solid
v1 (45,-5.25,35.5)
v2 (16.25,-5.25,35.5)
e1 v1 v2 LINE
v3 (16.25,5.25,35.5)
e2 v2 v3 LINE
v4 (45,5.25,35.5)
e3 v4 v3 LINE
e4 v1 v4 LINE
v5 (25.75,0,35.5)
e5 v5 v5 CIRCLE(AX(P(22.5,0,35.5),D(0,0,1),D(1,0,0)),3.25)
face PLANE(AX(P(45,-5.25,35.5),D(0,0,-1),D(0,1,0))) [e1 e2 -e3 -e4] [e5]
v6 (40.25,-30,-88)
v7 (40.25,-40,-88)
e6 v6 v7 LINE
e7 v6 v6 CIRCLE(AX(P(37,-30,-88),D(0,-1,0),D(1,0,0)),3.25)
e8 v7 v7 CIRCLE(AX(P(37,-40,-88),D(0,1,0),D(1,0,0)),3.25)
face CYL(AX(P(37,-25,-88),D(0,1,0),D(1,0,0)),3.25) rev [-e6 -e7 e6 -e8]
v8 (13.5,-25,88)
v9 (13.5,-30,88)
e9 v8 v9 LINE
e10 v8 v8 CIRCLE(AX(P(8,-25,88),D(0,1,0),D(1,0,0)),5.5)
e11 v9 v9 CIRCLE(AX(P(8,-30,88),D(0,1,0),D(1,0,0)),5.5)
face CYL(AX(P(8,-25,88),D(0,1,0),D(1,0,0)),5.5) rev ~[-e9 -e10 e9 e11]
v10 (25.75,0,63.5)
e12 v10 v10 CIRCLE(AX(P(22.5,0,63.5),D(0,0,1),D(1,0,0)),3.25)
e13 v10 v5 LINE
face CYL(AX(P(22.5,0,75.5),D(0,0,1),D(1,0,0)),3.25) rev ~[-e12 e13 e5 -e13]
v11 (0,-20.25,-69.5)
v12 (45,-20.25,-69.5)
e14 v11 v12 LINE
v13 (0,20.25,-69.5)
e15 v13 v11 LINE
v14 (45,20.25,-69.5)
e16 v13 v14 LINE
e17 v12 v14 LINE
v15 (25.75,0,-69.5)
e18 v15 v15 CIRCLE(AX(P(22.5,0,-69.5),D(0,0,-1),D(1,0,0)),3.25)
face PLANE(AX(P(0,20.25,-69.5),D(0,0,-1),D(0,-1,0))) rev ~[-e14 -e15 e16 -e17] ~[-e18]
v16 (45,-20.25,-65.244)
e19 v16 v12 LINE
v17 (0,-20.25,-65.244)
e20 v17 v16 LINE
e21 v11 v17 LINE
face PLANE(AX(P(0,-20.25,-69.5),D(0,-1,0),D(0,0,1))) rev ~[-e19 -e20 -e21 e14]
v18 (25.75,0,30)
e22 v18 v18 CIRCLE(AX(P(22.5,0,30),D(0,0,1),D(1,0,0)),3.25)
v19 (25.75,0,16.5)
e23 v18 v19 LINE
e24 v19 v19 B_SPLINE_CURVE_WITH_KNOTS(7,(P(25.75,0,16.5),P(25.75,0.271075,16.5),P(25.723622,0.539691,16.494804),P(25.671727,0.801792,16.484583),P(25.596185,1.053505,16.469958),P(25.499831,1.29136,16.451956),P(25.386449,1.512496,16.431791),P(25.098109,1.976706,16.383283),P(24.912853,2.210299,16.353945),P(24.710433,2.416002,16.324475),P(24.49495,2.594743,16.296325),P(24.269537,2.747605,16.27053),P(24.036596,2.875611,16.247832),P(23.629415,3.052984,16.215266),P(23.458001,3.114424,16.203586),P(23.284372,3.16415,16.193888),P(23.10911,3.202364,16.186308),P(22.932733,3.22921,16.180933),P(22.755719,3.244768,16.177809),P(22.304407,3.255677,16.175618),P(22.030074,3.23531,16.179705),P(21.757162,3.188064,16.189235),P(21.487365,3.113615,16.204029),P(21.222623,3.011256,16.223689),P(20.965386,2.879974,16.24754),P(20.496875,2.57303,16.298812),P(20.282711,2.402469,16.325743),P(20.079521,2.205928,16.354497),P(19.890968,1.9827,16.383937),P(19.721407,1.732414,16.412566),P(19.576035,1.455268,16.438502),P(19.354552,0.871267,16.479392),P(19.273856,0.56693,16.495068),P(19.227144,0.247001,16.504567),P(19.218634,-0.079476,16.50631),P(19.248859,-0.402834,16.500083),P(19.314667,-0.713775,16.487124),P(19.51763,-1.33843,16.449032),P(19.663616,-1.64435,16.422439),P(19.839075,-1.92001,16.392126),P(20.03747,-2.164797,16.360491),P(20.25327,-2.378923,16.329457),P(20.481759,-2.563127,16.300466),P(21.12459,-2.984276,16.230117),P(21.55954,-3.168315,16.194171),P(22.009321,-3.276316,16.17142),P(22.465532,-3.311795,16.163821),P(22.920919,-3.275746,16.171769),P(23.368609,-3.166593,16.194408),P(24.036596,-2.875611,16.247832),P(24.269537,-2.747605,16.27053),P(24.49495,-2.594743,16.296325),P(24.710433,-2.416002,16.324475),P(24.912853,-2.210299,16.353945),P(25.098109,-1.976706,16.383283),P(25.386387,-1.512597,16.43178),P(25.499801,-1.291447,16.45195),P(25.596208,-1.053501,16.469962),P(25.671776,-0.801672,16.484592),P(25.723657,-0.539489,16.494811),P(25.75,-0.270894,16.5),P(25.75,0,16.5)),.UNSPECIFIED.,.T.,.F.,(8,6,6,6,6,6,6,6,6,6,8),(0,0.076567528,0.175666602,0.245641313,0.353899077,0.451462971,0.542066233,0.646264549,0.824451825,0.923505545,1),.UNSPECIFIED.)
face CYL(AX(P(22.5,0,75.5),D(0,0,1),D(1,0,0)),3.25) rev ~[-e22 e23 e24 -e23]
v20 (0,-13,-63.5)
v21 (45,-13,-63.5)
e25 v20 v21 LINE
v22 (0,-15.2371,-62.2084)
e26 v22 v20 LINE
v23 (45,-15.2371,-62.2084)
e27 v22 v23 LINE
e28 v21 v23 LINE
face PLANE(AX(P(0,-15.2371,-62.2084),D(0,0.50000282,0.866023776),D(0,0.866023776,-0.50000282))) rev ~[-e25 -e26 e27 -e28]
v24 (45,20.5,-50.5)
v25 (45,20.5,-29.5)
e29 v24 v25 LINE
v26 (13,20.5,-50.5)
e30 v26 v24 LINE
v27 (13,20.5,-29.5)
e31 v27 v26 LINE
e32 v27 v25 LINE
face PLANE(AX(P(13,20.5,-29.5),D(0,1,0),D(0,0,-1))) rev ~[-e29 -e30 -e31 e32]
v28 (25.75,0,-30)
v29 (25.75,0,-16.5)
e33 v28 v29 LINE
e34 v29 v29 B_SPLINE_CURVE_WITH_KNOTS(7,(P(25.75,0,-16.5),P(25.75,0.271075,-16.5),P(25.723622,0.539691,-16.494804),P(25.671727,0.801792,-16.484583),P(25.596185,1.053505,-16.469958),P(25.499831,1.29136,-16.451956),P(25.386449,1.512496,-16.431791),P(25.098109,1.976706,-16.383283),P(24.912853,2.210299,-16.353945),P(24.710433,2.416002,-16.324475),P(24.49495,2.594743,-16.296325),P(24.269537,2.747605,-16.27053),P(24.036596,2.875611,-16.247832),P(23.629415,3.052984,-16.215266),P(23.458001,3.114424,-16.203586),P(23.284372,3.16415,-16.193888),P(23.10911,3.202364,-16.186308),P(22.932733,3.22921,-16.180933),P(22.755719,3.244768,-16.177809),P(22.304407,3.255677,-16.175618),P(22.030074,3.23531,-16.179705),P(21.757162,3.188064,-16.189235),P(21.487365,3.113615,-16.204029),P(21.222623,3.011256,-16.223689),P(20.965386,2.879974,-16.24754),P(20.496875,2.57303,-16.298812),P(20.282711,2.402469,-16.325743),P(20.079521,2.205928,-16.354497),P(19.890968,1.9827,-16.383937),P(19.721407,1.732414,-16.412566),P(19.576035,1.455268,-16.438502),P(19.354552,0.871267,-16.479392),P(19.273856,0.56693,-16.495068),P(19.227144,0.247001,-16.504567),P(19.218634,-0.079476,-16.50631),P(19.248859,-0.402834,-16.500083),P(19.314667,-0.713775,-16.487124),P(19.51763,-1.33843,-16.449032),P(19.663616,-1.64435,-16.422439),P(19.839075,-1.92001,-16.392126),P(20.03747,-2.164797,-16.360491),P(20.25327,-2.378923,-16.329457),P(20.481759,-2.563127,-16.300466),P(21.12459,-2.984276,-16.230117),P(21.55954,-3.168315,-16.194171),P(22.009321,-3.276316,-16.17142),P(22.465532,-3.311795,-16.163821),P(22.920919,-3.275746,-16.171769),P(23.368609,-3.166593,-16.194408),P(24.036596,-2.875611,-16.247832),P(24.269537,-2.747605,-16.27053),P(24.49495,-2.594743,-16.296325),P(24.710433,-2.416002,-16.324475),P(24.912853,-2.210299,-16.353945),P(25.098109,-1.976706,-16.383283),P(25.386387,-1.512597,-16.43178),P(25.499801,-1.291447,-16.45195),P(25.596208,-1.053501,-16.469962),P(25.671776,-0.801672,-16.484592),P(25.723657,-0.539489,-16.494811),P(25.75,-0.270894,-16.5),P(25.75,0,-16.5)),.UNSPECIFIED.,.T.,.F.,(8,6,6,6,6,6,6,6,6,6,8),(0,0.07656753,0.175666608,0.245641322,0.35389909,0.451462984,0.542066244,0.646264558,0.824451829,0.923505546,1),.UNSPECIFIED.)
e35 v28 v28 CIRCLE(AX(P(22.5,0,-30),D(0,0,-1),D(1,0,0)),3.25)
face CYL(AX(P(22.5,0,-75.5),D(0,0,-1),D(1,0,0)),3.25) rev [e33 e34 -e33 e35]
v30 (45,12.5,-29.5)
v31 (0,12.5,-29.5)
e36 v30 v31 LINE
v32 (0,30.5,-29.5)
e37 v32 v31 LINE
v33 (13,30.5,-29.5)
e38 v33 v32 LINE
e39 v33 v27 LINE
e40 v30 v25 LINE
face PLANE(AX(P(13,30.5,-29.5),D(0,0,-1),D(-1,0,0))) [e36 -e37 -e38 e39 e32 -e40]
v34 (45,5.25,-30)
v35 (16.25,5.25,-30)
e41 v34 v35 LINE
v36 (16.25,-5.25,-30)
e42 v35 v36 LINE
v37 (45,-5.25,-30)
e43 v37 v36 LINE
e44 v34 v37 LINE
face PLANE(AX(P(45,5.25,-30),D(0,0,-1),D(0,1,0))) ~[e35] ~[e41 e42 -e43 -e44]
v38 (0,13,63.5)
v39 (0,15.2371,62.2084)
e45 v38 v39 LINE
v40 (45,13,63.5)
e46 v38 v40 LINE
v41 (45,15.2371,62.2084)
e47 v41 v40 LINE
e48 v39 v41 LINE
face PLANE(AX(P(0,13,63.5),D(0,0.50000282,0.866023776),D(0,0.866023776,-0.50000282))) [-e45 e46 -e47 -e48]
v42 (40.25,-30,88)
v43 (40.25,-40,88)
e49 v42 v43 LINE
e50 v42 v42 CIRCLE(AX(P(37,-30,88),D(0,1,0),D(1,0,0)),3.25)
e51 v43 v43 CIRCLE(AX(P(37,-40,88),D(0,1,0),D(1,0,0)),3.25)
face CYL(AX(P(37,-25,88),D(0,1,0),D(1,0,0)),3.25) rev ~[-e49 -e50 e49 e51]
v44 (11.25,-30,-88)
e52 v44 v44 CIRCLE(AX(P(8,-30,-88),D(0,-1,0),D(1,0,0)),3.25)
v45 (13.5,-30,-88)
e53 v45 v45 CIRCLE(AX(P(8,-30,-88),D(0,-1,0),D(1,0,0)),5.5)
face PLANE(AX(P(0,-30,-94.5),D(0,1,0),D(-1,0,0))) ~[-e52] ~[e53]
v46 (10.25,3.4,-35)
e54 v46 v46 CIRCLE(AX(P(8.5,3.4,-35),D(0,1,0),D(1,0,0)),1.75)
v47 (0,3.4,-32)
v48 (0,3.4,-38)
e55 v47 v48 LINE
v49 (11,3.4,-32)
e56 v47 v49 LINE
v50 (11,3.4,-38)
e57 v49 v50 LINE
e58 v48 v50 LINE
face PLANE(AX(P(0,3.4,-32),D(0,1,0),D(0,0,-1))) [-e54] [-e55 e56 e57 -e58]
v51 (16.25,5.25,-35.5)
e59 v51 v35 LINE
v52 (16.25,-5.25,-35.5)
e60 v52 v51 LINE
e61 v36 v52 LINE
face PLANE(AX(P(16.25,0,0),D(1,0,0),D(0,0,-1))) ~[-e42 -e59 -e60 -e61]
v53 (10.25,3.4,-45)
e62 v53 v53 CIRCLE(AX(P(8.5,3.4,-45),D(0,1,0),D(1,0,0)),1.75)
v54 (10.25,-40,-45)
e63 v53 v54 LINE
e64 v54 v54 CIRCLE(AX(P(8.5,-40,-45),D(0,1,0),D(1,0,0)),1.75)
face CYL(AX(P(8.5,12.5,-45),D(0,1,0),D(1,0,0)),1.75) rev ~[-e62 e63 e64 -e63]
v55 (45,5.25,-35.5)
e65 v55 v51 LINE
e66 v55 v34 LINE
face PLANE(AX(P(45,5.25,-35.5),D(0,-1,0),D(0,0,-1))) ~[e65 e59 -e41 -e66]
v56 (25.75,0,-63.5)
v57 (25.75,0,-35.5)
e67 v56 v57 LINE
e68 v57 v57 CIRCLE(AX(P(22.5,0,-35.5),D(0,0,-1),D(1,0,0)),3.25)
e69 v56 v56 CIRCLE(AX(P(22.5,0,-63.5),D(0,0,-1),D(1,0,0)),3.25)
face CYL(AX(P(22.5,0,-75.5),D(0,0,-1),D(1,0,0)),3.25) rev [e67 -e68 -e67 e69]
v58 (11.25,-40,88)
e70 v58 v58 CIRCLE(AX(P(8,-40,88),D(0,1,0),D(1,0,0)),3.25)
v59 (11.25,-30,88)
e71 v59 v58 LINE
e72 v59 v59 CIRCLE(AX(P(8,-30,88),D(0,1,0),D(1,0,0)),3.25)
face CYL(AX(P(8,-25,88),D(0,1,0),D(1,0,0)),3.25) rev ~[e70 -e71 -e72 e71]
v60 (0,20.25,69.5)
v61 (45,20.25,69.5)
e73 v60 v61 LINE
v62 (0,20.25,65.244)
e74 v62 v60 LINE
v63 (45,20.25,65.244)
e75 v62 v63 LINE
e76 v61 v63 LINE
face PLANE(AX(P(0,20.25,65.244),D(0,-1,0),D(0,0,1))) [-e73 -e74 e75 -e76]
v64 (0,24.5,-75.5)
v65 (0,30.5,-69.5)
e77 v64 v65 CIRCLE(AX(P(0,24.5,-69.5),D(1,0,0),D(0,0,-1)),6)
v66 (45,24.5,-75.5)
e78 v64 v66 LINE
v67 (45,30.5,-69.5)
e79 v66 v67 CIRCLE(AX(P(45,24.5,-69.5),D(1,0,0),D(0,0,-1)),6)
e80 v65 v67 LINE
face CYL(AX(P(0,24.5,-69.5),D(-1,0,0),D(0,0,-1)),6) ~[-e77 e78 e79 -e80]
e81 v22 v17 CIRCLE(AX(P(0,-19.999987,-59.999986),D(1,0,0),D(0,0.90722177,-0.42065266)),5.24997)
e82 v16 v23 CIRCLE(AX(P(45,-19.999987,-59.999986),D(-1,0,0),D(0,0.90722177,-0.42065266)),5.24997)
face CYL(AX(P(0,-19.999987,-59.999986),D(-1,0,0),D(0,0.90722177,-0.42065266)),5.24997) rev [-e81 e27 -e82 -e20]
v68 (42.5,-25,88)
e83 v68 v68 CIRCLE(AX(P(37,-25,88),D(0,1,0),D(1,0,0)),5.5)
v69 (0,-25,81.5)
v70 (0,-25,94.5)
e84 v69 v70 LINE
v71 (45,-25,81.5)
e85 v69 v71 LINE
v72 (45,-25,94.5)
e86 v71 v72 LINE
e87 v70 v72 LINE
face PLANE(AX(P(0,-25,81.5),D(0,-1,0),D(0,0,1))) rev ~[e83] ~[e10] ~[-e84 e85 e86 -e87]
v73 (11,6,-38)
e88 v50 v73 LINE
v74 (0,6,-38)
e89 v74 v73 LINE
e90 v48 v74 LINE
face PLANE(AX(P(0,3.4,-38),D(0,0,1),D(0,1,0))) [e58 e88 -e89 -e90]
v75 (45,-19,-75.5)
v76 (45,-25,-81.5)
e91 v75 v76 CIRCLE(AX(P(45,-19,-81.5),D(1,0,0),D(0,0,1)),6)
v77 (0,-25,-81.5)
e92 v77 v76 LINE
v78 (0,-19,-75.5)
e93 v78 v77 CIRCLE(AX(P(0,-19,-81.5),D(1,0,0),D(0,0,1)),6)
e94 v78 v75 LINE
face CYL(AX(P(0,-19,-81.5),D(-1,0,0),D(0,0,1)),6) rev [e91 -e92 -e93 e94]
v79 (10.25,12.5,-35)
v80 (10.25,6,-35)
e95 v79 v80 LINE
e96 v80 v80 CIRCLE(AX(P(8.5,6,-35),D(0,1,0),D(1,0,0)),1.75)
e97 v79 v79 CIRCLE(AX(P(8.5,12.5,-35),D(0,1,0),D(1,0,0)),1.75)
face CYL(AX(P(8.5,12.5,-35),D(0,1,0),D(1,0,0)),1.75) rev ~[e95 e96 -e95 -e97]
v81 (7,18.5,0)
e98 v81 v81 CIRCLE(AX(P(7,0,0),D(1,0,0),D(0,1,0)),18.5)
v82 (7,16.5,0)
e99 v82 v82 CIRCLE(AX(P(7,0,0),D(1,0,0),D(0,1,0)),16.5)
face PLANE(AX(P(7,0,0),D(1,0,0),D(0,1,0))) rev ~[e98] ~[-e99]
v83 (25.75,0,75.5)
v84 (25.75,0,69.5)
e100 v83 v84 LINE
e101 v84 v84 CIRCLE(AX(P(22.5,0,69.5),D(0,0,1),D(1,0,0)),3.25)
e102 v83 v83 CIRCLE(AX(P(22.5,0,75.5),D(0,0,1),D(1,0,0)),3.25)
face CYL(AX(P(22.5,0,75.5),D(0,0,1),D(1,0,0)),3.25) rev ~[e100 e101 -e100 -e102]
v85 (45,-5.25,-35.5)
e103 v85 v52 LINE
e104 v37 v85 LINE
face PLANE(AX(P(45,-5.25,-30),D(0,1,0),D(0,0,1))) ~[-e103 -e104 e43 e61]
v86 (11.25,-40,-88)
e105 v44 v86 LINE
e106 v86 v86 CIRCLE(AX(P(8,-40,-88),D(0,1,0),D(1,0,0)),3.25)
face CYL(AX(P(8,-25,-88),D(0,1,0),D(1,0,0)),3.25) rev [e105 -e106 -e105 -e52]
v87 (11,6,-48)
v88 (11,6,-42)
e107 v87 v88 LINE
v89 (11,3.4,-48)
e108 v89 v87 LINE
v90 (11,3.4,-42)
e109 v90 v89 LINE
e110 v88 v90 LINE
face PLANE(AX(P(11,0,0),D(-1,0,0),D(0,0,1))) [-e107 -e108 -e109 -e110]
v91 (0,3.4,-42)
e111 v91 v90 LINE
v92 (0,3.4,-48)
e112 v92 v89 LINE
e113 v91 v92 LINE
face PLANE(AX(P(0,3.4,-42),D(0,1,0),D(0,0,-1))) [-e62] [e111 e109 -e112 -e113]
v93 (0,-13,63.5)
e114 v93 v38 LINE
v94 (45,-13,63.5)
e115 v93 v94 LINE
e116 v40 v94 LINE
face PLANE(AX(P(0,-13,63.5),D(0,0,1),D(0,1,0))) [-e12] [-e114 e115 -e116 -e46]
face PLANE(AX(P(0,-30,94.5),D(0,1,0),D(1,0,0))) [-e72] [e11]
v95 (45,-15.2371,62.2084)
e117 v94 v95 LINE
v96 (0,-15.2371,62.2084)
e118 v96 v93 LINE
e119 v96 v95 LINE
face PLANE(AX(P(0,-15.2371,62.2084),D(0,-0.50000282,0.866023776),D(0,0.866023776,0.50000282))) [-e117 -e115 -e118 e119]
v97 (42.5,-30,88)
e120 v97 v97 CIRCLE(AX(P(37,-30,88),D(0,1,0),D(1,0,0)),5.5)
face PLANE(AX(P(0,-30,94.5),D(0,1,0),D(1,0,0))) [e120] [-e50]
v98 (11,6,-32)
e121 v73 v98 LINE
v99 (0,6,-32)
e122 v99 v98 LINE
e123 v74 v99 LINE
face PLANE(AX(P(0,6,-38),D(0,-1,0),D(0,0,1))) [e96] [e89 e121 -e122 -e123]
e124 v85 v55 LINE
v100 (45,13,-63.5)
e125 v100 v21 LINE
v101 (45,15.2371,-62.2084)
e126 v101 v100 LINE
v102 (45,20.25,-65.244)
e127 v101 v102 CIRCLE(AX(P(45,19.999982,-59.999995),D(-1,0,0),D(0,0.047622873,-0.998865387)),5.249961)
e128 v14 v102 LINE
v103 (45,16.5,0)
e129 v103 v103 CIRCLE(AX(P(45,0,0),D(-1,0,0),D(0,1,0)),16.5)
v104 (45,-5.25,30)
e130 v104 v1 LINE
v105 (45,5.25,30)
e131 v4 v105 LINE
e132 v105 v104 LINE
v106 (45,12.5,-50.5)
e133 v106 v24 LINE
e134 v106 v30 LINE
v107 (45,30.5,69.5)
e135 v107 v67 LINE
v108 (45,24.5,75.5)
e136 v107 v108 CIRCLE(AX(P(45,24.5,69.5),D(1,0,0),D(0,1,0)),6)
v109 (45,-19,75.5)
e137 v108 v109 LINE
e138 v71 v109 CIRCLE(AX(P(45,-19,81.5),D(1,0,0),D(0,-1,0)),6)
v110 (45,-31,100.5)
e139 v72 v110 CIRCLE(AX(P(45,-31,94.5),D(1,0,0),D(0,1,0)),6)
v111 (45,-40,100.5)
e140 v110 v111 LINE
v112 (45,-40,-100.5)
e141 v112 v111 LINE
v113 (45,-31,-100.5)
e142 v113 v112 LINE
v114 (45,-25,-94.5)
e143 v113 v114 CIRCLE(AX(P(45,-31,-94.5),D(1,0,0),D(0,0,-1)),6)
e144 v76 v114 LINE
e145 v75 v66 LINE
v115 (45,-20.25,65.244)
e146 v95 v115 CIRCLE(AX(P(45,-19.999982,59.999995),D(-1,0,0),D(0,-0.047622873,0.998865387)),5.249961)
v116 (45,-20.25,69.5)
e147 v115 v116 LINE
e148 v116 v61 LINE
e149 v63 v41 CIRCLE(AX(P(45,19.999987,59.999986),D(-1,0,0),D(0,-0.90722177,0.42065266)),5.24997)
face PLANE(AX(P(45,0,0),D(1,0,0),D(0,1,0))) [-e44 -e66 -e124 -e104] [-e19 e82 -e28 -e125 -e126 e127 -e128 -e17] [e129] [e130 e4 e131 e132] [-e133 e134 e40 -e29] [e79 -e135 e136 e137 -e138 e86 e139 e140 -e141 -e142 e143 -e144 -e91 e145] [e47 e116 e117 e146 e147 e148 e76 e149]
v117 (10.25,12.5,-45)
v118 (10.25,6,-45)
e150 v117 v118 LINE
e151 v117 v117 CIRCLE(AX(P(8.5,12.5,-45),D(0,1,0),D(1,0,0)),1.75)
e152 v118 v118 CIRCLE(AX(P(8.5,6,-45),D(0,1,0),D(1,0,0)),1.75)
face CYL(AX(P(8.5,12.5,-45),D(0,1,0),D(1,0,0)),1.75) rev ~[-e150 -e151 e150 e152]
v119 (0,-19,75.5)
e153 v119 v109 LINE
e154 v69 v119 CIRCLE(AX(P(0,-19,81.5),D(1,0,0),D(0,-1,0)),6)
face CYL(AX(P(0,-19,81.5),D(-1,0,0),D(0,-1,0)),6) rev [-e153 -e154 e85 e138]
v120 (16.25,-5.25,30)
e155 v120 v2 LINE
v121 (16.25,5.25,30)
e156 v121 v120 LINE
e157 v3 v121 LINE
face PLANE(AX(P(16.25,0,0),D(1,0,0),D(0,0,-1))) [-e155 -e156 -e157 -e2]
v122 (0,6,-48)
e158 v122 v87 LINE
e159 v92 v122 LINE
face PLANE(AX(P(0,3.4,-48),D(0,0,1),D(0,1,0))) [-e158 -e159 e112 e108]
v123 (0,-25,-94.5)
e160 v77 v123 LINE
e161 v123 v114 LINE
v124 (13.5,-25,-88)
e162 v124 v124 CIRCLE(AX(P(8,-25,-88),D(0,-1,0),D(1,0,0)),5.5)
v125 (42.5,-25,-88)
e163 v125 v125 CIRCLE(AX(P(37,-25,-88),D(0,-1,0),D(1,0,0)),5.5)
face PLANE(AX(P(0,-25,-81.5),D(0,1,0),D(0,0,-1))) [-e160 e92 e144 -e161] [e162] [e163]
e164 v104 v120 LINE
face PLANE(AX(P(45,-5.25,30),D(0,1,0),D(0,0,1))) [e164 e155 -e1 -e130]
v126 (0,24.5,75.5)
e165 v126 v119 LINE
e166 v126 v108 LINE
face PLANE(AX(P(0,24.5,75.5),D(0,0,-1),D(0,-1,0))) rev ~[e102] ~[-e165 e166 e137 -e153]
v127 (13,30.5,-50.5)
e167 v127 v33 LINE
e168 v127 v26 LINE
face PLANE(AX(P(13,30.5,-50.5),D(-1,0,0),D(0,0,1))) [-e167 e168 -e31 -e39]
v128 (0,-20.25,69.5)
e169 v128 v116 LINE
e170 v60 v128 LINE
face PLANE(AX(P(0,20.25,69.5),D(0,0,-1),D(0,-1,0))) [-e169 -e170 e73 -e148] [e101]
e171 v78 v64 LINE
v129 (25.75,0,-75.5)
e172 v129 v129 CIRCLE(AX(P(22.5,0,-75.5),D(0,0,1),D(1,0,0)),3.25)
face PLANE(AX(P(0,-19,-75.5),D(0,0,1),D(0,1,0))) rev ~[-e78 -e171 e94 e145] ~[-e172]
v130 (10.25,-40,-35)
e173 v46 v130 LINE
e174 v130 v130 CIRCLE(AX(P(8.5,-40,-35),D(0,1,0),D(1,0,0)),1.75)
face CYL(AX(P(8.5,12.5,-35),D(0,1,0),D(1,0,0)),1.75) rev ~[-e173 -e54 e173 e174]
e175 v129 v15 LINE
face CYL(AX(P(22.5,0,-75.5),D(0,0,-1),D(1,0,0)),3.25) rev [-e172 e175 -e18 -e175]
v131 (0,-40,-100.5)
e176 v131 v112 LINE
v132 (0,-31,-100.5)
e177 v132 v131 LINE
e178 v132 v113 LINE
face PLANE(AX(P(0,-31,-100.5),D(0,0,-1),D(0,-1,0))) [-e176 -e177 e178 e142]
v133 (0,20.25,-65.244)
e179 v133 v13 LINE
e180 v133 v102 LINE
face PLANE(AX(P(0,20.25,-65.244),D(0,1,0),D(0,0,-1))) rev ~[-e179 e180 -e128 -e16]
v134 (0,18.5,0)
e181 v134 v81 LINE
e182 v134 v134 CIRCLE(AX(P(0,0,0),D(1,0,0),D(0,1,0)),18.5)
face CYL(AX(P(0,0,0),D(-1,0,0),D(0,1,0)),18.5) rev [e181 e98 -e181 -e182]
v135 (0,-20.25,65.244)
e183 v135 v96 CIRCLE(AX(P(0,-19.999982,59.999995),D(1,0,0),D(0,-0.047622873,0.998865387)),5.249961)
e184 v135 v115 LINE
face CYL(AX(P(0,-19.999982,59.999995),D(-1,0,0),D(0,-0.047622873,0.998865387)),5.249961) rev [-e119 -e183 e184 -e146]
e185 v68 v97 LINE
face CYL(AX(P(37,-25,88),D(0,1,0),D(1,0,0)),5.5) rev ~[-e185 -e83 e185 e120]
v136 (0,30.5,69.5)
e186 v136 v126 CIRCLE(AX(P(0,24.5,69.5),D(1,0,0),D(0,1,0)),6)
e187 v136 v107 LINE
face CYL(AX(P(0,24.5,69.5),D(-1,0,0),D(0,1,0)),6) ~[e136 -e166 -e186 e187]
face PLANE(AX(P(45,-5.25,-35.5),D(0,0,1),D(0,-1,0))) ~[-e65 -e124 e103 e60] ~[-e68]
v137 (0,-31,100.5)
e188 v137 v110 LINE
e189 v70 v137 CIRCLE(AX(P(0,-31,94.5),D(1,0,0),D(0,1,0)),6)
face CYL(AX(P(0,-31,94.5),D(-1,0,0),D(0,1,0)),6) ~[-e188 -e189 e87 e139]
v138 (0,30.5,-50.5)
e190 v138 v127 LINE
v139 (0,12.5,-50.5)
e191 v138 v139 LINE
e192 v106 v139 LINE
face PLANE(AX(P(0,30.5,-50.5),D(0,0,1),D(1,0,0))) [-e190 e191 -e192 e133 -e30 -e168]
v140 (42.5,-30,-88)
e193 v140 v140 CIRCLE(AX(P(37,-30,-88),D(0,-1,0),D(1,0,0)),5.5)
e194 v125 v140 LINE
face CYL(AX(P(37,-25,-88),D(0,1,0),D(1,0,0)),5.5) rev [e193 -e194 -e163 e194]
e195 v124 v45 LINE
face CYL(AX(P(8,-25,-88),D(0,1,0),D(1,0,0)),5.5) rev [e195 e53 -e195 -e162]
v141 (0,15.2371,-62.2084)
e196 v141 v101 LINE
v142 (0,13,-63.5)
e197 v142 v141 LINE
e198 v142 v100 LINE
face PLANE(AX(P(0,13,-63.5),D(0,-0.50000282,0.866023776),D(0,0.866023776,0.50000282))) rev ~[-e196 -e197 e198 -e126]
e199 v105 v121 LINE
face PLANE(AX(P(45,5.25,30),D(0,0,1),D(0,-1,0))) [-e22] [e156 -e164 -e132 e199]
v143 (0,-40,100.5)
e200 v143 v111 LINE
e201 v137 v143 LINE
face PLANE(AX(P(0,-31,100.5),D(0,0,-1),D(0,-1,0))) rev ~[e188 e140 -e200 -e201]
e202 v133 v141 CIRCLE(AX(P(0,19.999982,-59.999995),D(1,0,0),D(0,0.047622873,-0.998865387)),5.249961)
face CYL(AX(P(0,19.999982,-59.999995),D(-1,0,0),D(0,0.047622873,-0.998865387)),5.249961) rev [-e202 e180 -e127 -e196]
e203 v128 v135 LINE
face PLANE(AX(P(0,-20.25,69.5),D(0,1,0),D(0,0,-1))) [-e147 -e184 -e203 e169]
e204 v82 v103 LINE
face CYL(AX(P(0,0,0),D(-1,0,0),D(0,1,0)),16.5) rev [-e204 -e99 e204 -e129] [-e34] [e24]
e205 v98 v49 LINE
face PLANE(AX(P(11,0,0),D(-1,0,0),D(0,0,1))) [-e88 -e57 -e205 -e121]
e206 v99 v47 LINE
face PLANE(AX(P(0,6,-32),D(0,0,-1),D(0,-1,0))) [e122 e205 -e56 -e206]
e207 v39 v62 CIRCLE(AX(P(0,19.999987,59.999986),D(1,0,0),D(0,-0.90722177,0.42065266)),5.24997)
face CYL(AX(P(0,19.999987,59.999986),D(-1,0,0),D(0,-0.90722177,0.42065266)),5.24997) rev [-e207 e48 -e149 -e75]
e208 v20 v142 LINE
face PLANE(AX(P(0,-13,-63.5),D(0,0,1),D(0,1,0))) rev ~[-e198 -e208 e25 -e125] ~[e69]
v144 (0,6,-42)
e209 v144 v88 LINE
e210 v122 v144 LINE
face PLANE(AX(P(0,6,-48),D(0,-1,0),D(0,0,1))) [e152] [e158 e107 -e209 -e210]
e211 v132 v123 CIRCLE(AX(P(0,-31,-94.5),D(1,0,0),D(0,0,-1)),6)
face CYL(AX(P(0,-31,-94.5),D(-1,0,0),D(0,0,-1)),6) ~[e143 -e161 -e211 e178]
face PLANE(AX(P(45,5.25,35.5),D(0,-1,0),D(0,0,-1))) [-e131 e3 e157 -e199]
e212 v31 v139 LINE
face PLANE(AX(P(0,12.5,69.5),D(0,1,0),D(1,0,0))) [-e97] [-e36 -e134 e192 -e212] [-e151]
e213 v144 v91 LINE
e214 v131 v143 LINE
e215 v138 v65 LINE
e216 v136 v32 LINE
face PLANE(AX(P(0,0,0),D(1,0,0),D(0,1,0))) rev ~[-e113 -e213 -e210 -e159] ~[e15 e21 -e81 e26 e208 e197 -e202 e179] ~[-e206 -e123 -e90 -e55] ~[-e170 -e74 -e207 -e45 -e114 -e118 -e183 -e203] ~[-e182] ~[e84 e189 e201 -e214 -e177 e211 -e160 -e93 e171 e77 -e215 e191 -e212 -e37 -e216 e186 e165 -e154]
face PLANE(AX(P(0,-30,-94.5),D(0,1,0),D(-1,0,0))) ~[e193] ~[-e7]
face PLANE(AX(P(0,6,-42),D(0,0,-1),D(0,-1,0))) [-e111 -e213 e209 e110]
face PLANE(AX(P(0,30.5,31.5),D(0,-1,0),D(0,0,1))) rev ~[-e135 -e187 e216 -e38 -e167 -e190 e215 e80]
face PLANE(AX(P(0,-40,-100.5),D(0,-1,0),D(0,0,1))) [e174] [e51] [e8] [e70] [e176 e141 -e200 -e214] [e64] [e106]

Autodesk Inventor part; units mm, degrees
ref_plane "YZ Plane" through (0, 0, 0) normal (1, 0, 0) x (0, 1, 0)
ref_plane "XZ Plane" through (0, 0, 0) normal (0, 1, 0) x (-1, 0, 0)
ref_plane "XY Plane" through (0, 0, 0) normal (0, 0, 1) x (1, 0, 0)
sketch "Szkic1" plane through (0, 0, 0) normal (1, 0, 0) x (0, 1, 0)
  circle A0 centre (0, 0) radius 16.5
  arc A1 (16.0869, 63.5) -> (15.2371, 62.2084) centre (20, 60) ccw construction
  arc A2 (-20.25, 65.244) -> (-15.2371, 62.2084) centre (-20, 60) ccw
  line L0 (20.25, 69.5) -> (-20.25, 69.5)
  line L1 (-20.25, 69.5) -> (-20.25, 65.244)
  line L2 (-20.25, 63.5) -> (-16.0869, 63.5) construction
  line L3 (20.25, 63.5) -> (20.25, 65.244) construction
  line L4 (16.0869, 63.5) -> (20.25, 63.5) construction
  line L5 (20.25, 65.244) -> (20.25, 69.5)
  line L6 (-20.25, 65.244) -> (-20.25, 63.5) construction
  line L7 (-16.0869, 63.5) -> (-13, 63.5) construction
  arc A3 (20.25, 65.244) -> (16.0869, 63.5) centre (20, 60) ccw construction
  arc A4 (-16.0869, 63.5) -> (-20.25, 65.244) centre (-20, 60) ccw construction
  line L8 (-15.2371, 62.2084) -> (-13, 63.5)
  line L9 (13, 63.5) -> (15.2371, 62.2084)
  arc A5 (15.2371, 62.2084) -> (20.25, 65.244) centre (20, 60) ccw
  line L10 (13, 63.5) -> (16.0869, 63.5) construction
  arc A6 (-15.2371, 62.2084) -> (-16.0869, 63.5) centre (-20, 60) ccw construction
  line L11 (-13, 63.5) -> (13, 63.5)
  line L12 (16.5, 0) -> (-16.5, 0) construction
  arc A7 (15.2371, -62.2084) -> (16.0869, -63.5) centre (20, -60) ccw construction
  arc A8 (-15.2371, -62.2084) -> (-20.25, -65.244) centre (-20, -60) ccw
  line L13 (20.25, -69.5) -> (-20.25, -69.5)
  line L14 (-20.25, -69.5) -> (-20.25, -65.244)
  line L15 (-20.25, -63.5) -> (-16.0869, -63.5) construction
  line L16 (20.25, -63.5) -> (20.25, -65.244) construction
  line L17 (16.0869, -63.5) -> (20.25, -63.5) construction
  line L18 (20.25, -65.244) -> (20.25, -69.5)
  line L19 (-20.25, -65.244) -> (-20.25, -63.5) construction
  line L20 (-16.0869, -63.5) -> (-13, -63.5) construction
  arc A9 (16.0869, -63.5) -> (20.25, -65.244) centre (20, -60) ccw construction
  arc A10 (-20.25, -65.244) -> (-16.0869, -63.5) centre (-20, -60) ccw construction
  line L21 (-15.2371, -62.2084) -> (-13, -63.5)
  line L22 (13, -63.5) -> (15.2371, -62.2084)
  arc A11 (20.25, -65.244) -> (15.2371, -62.2084) centre (20, -60) ccw
  line L23 (13, -63.5) -> (16.0869, -63.5) construction
  arc A12 (-16.0869, -63.5) -> (-15.2371, -62.2084) centre (-20, -60) ccw construction
  line L24 (-13, -63.5) -> (13, -63.5)
  line L25 (24.5, 75.5) -> (-19, 75.5)
  line L26 (-40, 75.5) -> (-40, -75.5)
  line L27 (-19, -75.5) -> (24.5, -75.5)
  line L28 (30.5, -69.5) -> (30.5, -31.5)
  arc A13 (30.5, 69.5) -> (24.5, 75.5) centre (24.5, 69.5) ccw
  arc A14 (24.5, -75.5) -> (30.5, -69.5) centre (24.5, -69.5) ccw
  line L29 (-40, 75.5) -> (-25, 75.5) construction
  line L30 (-25, 81.5) -> (-25, 94.5)
  line L31 (-31, 100.5) -> (-40, 100.5)
  line L32 (-40, 100.5) -> (-40, 75.5)
  arc A15 (-25, 94.5) -> (-31, 100.5) centre (-31, 94.5) ccw
  arc A16 (-25, 81.5) -> (-19, 75.5) centre (-19, 81.5) ccw
  line L33 (-40, -75.5) -> (-25, -75.5) construction
  line L34 (-25, -81.5) -> (-25, -94.5)
  line L35 (-31, -100.5) -> (-40, -100.5)
  line L36 (-40, -100.5) -> (-40, -75.5)
  arc A17 (-31, -100.5) -> (-25, -94.5) centre (-31, -94.5) ccw
  arc A18 (-19, -75.5) -> (-25, -81.5) centre (-19, -81.5) ccw
  line L37 (30.5, 25.5) -> (30.5, -25.5) construction
  line L38 (30.5, 31.5) -> (30.5, 69.5)
  line L39 (30.5, -31.5) -> (30.5, 31.5)
  circle A19 centre (0, 0) radius 18.5
  point P0 (-25, 100.5)
  point P1 (-25, -100.5)
  dimension "d0" = 33
  dimension "d1" = 10.5
  dimension "d3" = 20
  dimension "d4" = 60
  dimension "d6" = 6
  dimension "d8" = 3.5
  dimension "d9" = 150
  dimension "d10" = 150
  dimension "d11" = 26
  dimension "d12" = 13
  dimension "d13" = 6
  dimension "d14" = 6
  dimension "d15" = 10.5
  dimension "d16" = 20
  dimension "d17" = 6
  dimension "d18" = 15
  dimension "d19" = 25
  dimension "d20" = 6
  dimension "d21" = 15
  dimension "d22" = 25
  dimension "d23" = 6
  dimension "d50" = 37
  dimension "d55" = 40
  dimension "d56" = 0.25
  dimension "d57" = 0.25
extrude "Wyciągnięcie proste1" add sketch "Szkic1" along normal blind 45 contours A0 | L1 L0 L5 A5 L9 L11 L8 A2 | L21 L24 L22 A11 L18 L13 L14 A8 | A13 L38 L39 L28 A14 L27 A18 L34 A17 L35 L36 L26 L32 L31 A15 L30 A16 L25 | A19
extrude "Wyciągnięcie proste4" cut sketch "Szkic1" along normal through all contours A0 | L1 L0 L5 A5 L9 L11 L8 A2 | L21 L24 L22 A11 L18 L13 L14 A8
extrude "Wyciągnięcie proste7" cut sketch "Szkic1" along normal blind 7 contours A19
sketch "Szkic2" plane through (0, -25, 94.5) normal (0, 1, 0) x (1, 0, 0)
  circle A0 centre (37, 6.5) radius 5.5
  circle A1 centre (8, 6.5) radius 5.5
  circle A2 centre (37, 6.5) radius 3.25
  circle A3 centre (8, 6.5) radius 3.25
  line L0 (45, 13) -> (45, 0) projected
  line L1 (0, -6) -> (45, -6) projected
  line L2 (0, 13) -> (0, 0) projected
  point P0 (0, 94.5)
  dimension "d41" = 6.5
  dimension "d42" = 11
  dimension "d43" = 8
  dimension "d44" = 12.5
  dimension "d45" = 8
extrude "Wyciągnięcie proste5" cut sketch "Szkic2" against normal through all contours A2 | A3
extrude "Wyciągnięcie proste6" cut sketch "Szkic2" against normal blind 5
sketch "Szkic3" plane through (0, -19, 75.5) normal (0, 0, 1) x (1, 0, 0)
  line L0 (45, 32) -> (45, 6) projected
  line L1 (0, 32) -> (45, 32) projected
  line L2 (0, 6) -> (0, 32) projected
  line L3 (0, 6) -> (45, 6) projected
  line L4 (0, 6) -> (45, 6) projected
  line L5 (0, 32) -> (45, 6) construction
  line L6 (45, 32) -> (0, 6) construction
  circle A0 centre (22.5, 19) radius 3.25
  circle A1 centre (22.5, 19) radius 5.5
  point P0 (0, 19)
  dimension "d58" = 6.5
  dimension "d59" = 11
extrude "Wyciągnięcie proste9" cut sketch "Szkic3" against normal blind 60 contours A0
sketch "Szkic4" plane through (45, 0, 0) normal (1, 0, 0) x (0, 0, -1)
  line L0 (-35.5, 5.25) -> (-30, 5.25)
  line L1 (-30, 5.25) -> (-30, -5.25)
  line L2 (-30, -5.25) -> (-35.5, -5.25)
  line L3 (-35.5, -5.25) -> (-35.5, 5.25)
  line L4 (-75.5, 24.5) -> (-75.5, -19) projected
  point P0 (0, 0)
  dimension "d62" = 10.5
  dimension "d63" = 5.25
  dimension "d64" = 40
  dimension "d65" = 5.5
extrude "Wyciągnięcie proste10" cut sketch "Szkic4" against normal blind 28.75
mirror "Odbij3" about plane through (0, 0, 0) normal (0, 0, 1) of "Wyciągnięcie proste10", "Wyciągnięcie proste9", "Wyciągnięcie proste6", "Wyciągnięcie proste5"
sketch "Szkic5" plane through (0, 30.5, 69.5) normal (0, 1, 0) x (1, 0, 0)
  line L0 (0, 51) -> (0, 88) projected
  line L1 (0, 124.25) -> (0, 134.744) projected
  line L2 (0, -31) -> (0, 170) projected
  line L3 (0, 120) -> (13, 120)
  line L4 (13, 120) -> (13, 99)
  line L5 (13, 99) -> (0, 99)
  line L6 (0, 99) -> (0, 120)
  point P0 (0, 69.5)
  point P1 (0, 131.7084)
  point P2 (0, 99)
  dimension "d68" = 21
  dimension "d69" = 13
  dimension "d70" = 11
extrude "Wyciągnięcie proste11" cut sketch "Szkic5" against normal blind 18
sketch "Szkic6" plane through (13, 30.5, -50.5) normal (-1, 0, 0) x (0, 0, 1)
  line L0 (21, -18) -> (0, -18) projected
  line L1 (21, 0) -> (21, -18) projected
  line L2 (0, -18) -> (21, -18)
  line L3 (21, -18) -> (21, -10)
  line L4 (21, -10) -> (0, -10)
  line L5 (0, -10) -> (0, -18)
  point P0 (50.5, -30.5)
  dimension "d74" = 8
extrude "Wyciągnięcie proste12" cut sketch "Szkic6" against normal through all
sketch "Szkic7" plane through (0, 12.5, 69.5) normal (0, 1, 0) x (1, 0, 0)
  circle A0 centre (8.5, 114.5) radius 1.75
  circle A1 centre (8.5, 104.5) radius 1.75
  line L0 (0, 120) -> (13, 120) projected
  line L1 (0, 99) -> (0, 120) projected
  point P0 (0, 69.5)
  dimension "d77" = 5.5
  dimension "d78" = 10
  dimension "d79" = 3.5
  dimension "d80" = 8.5
extrude "Wyciągnięcie proste13" cut sketch "Szkic7" against normal through all
sketch "Szkic10" plane through (0, 0, 0) normal (-1, 0, 0) x (0, 0, 1)
  line L0 (-46.75, 12.5) -> (-43.25, 12.5) projected
  line L1 (-36.75, 12.5) -> (-33.25, 12.5) projected
  line L2 (-48, 6) -> (-42, 6)
  line L3 (-42, 6) -> (-42, 3.4)
  line L4 (-42, 3.4) -> (-48, 3.4)
  line L5 (-48, 3.4) -> (-48, 6)
  line L6 (-38, 6) -> (-32, 6)
  line L7 (-32, 6) -> (-32, 3.4)
  line L8 (-32, 3.4) -> (-38, 3.4)
  line L9 (-38, 3.4) -> (-38, 6)
  line L10 (-29.5, 12.5) -> (-50.5, 12.5) projected
  line L11 (-50.5, 12.5) -> (-50.5, 30.5) projected
  point P0 (0, 0)
  dimension "d83" = 6.5
  dimension "d84" = 2.6
  dimension "d85" = 6
  dimension "d86" = 6
  dimension "d87" = 2.5
  dimension "d89" = 10
extrude "Wyciągnięcie proste14" cut sketch "Szkic10" against normal blind 11
equation "\"d3\" = 0.5 * d2"
equation "\"d12\" = 0.5 * d11"
equation "\"d14\" = d13"
equation "\"d2\" = 40"
properties part number "XFloating" material "Tworzywo sztuczne ABS"
